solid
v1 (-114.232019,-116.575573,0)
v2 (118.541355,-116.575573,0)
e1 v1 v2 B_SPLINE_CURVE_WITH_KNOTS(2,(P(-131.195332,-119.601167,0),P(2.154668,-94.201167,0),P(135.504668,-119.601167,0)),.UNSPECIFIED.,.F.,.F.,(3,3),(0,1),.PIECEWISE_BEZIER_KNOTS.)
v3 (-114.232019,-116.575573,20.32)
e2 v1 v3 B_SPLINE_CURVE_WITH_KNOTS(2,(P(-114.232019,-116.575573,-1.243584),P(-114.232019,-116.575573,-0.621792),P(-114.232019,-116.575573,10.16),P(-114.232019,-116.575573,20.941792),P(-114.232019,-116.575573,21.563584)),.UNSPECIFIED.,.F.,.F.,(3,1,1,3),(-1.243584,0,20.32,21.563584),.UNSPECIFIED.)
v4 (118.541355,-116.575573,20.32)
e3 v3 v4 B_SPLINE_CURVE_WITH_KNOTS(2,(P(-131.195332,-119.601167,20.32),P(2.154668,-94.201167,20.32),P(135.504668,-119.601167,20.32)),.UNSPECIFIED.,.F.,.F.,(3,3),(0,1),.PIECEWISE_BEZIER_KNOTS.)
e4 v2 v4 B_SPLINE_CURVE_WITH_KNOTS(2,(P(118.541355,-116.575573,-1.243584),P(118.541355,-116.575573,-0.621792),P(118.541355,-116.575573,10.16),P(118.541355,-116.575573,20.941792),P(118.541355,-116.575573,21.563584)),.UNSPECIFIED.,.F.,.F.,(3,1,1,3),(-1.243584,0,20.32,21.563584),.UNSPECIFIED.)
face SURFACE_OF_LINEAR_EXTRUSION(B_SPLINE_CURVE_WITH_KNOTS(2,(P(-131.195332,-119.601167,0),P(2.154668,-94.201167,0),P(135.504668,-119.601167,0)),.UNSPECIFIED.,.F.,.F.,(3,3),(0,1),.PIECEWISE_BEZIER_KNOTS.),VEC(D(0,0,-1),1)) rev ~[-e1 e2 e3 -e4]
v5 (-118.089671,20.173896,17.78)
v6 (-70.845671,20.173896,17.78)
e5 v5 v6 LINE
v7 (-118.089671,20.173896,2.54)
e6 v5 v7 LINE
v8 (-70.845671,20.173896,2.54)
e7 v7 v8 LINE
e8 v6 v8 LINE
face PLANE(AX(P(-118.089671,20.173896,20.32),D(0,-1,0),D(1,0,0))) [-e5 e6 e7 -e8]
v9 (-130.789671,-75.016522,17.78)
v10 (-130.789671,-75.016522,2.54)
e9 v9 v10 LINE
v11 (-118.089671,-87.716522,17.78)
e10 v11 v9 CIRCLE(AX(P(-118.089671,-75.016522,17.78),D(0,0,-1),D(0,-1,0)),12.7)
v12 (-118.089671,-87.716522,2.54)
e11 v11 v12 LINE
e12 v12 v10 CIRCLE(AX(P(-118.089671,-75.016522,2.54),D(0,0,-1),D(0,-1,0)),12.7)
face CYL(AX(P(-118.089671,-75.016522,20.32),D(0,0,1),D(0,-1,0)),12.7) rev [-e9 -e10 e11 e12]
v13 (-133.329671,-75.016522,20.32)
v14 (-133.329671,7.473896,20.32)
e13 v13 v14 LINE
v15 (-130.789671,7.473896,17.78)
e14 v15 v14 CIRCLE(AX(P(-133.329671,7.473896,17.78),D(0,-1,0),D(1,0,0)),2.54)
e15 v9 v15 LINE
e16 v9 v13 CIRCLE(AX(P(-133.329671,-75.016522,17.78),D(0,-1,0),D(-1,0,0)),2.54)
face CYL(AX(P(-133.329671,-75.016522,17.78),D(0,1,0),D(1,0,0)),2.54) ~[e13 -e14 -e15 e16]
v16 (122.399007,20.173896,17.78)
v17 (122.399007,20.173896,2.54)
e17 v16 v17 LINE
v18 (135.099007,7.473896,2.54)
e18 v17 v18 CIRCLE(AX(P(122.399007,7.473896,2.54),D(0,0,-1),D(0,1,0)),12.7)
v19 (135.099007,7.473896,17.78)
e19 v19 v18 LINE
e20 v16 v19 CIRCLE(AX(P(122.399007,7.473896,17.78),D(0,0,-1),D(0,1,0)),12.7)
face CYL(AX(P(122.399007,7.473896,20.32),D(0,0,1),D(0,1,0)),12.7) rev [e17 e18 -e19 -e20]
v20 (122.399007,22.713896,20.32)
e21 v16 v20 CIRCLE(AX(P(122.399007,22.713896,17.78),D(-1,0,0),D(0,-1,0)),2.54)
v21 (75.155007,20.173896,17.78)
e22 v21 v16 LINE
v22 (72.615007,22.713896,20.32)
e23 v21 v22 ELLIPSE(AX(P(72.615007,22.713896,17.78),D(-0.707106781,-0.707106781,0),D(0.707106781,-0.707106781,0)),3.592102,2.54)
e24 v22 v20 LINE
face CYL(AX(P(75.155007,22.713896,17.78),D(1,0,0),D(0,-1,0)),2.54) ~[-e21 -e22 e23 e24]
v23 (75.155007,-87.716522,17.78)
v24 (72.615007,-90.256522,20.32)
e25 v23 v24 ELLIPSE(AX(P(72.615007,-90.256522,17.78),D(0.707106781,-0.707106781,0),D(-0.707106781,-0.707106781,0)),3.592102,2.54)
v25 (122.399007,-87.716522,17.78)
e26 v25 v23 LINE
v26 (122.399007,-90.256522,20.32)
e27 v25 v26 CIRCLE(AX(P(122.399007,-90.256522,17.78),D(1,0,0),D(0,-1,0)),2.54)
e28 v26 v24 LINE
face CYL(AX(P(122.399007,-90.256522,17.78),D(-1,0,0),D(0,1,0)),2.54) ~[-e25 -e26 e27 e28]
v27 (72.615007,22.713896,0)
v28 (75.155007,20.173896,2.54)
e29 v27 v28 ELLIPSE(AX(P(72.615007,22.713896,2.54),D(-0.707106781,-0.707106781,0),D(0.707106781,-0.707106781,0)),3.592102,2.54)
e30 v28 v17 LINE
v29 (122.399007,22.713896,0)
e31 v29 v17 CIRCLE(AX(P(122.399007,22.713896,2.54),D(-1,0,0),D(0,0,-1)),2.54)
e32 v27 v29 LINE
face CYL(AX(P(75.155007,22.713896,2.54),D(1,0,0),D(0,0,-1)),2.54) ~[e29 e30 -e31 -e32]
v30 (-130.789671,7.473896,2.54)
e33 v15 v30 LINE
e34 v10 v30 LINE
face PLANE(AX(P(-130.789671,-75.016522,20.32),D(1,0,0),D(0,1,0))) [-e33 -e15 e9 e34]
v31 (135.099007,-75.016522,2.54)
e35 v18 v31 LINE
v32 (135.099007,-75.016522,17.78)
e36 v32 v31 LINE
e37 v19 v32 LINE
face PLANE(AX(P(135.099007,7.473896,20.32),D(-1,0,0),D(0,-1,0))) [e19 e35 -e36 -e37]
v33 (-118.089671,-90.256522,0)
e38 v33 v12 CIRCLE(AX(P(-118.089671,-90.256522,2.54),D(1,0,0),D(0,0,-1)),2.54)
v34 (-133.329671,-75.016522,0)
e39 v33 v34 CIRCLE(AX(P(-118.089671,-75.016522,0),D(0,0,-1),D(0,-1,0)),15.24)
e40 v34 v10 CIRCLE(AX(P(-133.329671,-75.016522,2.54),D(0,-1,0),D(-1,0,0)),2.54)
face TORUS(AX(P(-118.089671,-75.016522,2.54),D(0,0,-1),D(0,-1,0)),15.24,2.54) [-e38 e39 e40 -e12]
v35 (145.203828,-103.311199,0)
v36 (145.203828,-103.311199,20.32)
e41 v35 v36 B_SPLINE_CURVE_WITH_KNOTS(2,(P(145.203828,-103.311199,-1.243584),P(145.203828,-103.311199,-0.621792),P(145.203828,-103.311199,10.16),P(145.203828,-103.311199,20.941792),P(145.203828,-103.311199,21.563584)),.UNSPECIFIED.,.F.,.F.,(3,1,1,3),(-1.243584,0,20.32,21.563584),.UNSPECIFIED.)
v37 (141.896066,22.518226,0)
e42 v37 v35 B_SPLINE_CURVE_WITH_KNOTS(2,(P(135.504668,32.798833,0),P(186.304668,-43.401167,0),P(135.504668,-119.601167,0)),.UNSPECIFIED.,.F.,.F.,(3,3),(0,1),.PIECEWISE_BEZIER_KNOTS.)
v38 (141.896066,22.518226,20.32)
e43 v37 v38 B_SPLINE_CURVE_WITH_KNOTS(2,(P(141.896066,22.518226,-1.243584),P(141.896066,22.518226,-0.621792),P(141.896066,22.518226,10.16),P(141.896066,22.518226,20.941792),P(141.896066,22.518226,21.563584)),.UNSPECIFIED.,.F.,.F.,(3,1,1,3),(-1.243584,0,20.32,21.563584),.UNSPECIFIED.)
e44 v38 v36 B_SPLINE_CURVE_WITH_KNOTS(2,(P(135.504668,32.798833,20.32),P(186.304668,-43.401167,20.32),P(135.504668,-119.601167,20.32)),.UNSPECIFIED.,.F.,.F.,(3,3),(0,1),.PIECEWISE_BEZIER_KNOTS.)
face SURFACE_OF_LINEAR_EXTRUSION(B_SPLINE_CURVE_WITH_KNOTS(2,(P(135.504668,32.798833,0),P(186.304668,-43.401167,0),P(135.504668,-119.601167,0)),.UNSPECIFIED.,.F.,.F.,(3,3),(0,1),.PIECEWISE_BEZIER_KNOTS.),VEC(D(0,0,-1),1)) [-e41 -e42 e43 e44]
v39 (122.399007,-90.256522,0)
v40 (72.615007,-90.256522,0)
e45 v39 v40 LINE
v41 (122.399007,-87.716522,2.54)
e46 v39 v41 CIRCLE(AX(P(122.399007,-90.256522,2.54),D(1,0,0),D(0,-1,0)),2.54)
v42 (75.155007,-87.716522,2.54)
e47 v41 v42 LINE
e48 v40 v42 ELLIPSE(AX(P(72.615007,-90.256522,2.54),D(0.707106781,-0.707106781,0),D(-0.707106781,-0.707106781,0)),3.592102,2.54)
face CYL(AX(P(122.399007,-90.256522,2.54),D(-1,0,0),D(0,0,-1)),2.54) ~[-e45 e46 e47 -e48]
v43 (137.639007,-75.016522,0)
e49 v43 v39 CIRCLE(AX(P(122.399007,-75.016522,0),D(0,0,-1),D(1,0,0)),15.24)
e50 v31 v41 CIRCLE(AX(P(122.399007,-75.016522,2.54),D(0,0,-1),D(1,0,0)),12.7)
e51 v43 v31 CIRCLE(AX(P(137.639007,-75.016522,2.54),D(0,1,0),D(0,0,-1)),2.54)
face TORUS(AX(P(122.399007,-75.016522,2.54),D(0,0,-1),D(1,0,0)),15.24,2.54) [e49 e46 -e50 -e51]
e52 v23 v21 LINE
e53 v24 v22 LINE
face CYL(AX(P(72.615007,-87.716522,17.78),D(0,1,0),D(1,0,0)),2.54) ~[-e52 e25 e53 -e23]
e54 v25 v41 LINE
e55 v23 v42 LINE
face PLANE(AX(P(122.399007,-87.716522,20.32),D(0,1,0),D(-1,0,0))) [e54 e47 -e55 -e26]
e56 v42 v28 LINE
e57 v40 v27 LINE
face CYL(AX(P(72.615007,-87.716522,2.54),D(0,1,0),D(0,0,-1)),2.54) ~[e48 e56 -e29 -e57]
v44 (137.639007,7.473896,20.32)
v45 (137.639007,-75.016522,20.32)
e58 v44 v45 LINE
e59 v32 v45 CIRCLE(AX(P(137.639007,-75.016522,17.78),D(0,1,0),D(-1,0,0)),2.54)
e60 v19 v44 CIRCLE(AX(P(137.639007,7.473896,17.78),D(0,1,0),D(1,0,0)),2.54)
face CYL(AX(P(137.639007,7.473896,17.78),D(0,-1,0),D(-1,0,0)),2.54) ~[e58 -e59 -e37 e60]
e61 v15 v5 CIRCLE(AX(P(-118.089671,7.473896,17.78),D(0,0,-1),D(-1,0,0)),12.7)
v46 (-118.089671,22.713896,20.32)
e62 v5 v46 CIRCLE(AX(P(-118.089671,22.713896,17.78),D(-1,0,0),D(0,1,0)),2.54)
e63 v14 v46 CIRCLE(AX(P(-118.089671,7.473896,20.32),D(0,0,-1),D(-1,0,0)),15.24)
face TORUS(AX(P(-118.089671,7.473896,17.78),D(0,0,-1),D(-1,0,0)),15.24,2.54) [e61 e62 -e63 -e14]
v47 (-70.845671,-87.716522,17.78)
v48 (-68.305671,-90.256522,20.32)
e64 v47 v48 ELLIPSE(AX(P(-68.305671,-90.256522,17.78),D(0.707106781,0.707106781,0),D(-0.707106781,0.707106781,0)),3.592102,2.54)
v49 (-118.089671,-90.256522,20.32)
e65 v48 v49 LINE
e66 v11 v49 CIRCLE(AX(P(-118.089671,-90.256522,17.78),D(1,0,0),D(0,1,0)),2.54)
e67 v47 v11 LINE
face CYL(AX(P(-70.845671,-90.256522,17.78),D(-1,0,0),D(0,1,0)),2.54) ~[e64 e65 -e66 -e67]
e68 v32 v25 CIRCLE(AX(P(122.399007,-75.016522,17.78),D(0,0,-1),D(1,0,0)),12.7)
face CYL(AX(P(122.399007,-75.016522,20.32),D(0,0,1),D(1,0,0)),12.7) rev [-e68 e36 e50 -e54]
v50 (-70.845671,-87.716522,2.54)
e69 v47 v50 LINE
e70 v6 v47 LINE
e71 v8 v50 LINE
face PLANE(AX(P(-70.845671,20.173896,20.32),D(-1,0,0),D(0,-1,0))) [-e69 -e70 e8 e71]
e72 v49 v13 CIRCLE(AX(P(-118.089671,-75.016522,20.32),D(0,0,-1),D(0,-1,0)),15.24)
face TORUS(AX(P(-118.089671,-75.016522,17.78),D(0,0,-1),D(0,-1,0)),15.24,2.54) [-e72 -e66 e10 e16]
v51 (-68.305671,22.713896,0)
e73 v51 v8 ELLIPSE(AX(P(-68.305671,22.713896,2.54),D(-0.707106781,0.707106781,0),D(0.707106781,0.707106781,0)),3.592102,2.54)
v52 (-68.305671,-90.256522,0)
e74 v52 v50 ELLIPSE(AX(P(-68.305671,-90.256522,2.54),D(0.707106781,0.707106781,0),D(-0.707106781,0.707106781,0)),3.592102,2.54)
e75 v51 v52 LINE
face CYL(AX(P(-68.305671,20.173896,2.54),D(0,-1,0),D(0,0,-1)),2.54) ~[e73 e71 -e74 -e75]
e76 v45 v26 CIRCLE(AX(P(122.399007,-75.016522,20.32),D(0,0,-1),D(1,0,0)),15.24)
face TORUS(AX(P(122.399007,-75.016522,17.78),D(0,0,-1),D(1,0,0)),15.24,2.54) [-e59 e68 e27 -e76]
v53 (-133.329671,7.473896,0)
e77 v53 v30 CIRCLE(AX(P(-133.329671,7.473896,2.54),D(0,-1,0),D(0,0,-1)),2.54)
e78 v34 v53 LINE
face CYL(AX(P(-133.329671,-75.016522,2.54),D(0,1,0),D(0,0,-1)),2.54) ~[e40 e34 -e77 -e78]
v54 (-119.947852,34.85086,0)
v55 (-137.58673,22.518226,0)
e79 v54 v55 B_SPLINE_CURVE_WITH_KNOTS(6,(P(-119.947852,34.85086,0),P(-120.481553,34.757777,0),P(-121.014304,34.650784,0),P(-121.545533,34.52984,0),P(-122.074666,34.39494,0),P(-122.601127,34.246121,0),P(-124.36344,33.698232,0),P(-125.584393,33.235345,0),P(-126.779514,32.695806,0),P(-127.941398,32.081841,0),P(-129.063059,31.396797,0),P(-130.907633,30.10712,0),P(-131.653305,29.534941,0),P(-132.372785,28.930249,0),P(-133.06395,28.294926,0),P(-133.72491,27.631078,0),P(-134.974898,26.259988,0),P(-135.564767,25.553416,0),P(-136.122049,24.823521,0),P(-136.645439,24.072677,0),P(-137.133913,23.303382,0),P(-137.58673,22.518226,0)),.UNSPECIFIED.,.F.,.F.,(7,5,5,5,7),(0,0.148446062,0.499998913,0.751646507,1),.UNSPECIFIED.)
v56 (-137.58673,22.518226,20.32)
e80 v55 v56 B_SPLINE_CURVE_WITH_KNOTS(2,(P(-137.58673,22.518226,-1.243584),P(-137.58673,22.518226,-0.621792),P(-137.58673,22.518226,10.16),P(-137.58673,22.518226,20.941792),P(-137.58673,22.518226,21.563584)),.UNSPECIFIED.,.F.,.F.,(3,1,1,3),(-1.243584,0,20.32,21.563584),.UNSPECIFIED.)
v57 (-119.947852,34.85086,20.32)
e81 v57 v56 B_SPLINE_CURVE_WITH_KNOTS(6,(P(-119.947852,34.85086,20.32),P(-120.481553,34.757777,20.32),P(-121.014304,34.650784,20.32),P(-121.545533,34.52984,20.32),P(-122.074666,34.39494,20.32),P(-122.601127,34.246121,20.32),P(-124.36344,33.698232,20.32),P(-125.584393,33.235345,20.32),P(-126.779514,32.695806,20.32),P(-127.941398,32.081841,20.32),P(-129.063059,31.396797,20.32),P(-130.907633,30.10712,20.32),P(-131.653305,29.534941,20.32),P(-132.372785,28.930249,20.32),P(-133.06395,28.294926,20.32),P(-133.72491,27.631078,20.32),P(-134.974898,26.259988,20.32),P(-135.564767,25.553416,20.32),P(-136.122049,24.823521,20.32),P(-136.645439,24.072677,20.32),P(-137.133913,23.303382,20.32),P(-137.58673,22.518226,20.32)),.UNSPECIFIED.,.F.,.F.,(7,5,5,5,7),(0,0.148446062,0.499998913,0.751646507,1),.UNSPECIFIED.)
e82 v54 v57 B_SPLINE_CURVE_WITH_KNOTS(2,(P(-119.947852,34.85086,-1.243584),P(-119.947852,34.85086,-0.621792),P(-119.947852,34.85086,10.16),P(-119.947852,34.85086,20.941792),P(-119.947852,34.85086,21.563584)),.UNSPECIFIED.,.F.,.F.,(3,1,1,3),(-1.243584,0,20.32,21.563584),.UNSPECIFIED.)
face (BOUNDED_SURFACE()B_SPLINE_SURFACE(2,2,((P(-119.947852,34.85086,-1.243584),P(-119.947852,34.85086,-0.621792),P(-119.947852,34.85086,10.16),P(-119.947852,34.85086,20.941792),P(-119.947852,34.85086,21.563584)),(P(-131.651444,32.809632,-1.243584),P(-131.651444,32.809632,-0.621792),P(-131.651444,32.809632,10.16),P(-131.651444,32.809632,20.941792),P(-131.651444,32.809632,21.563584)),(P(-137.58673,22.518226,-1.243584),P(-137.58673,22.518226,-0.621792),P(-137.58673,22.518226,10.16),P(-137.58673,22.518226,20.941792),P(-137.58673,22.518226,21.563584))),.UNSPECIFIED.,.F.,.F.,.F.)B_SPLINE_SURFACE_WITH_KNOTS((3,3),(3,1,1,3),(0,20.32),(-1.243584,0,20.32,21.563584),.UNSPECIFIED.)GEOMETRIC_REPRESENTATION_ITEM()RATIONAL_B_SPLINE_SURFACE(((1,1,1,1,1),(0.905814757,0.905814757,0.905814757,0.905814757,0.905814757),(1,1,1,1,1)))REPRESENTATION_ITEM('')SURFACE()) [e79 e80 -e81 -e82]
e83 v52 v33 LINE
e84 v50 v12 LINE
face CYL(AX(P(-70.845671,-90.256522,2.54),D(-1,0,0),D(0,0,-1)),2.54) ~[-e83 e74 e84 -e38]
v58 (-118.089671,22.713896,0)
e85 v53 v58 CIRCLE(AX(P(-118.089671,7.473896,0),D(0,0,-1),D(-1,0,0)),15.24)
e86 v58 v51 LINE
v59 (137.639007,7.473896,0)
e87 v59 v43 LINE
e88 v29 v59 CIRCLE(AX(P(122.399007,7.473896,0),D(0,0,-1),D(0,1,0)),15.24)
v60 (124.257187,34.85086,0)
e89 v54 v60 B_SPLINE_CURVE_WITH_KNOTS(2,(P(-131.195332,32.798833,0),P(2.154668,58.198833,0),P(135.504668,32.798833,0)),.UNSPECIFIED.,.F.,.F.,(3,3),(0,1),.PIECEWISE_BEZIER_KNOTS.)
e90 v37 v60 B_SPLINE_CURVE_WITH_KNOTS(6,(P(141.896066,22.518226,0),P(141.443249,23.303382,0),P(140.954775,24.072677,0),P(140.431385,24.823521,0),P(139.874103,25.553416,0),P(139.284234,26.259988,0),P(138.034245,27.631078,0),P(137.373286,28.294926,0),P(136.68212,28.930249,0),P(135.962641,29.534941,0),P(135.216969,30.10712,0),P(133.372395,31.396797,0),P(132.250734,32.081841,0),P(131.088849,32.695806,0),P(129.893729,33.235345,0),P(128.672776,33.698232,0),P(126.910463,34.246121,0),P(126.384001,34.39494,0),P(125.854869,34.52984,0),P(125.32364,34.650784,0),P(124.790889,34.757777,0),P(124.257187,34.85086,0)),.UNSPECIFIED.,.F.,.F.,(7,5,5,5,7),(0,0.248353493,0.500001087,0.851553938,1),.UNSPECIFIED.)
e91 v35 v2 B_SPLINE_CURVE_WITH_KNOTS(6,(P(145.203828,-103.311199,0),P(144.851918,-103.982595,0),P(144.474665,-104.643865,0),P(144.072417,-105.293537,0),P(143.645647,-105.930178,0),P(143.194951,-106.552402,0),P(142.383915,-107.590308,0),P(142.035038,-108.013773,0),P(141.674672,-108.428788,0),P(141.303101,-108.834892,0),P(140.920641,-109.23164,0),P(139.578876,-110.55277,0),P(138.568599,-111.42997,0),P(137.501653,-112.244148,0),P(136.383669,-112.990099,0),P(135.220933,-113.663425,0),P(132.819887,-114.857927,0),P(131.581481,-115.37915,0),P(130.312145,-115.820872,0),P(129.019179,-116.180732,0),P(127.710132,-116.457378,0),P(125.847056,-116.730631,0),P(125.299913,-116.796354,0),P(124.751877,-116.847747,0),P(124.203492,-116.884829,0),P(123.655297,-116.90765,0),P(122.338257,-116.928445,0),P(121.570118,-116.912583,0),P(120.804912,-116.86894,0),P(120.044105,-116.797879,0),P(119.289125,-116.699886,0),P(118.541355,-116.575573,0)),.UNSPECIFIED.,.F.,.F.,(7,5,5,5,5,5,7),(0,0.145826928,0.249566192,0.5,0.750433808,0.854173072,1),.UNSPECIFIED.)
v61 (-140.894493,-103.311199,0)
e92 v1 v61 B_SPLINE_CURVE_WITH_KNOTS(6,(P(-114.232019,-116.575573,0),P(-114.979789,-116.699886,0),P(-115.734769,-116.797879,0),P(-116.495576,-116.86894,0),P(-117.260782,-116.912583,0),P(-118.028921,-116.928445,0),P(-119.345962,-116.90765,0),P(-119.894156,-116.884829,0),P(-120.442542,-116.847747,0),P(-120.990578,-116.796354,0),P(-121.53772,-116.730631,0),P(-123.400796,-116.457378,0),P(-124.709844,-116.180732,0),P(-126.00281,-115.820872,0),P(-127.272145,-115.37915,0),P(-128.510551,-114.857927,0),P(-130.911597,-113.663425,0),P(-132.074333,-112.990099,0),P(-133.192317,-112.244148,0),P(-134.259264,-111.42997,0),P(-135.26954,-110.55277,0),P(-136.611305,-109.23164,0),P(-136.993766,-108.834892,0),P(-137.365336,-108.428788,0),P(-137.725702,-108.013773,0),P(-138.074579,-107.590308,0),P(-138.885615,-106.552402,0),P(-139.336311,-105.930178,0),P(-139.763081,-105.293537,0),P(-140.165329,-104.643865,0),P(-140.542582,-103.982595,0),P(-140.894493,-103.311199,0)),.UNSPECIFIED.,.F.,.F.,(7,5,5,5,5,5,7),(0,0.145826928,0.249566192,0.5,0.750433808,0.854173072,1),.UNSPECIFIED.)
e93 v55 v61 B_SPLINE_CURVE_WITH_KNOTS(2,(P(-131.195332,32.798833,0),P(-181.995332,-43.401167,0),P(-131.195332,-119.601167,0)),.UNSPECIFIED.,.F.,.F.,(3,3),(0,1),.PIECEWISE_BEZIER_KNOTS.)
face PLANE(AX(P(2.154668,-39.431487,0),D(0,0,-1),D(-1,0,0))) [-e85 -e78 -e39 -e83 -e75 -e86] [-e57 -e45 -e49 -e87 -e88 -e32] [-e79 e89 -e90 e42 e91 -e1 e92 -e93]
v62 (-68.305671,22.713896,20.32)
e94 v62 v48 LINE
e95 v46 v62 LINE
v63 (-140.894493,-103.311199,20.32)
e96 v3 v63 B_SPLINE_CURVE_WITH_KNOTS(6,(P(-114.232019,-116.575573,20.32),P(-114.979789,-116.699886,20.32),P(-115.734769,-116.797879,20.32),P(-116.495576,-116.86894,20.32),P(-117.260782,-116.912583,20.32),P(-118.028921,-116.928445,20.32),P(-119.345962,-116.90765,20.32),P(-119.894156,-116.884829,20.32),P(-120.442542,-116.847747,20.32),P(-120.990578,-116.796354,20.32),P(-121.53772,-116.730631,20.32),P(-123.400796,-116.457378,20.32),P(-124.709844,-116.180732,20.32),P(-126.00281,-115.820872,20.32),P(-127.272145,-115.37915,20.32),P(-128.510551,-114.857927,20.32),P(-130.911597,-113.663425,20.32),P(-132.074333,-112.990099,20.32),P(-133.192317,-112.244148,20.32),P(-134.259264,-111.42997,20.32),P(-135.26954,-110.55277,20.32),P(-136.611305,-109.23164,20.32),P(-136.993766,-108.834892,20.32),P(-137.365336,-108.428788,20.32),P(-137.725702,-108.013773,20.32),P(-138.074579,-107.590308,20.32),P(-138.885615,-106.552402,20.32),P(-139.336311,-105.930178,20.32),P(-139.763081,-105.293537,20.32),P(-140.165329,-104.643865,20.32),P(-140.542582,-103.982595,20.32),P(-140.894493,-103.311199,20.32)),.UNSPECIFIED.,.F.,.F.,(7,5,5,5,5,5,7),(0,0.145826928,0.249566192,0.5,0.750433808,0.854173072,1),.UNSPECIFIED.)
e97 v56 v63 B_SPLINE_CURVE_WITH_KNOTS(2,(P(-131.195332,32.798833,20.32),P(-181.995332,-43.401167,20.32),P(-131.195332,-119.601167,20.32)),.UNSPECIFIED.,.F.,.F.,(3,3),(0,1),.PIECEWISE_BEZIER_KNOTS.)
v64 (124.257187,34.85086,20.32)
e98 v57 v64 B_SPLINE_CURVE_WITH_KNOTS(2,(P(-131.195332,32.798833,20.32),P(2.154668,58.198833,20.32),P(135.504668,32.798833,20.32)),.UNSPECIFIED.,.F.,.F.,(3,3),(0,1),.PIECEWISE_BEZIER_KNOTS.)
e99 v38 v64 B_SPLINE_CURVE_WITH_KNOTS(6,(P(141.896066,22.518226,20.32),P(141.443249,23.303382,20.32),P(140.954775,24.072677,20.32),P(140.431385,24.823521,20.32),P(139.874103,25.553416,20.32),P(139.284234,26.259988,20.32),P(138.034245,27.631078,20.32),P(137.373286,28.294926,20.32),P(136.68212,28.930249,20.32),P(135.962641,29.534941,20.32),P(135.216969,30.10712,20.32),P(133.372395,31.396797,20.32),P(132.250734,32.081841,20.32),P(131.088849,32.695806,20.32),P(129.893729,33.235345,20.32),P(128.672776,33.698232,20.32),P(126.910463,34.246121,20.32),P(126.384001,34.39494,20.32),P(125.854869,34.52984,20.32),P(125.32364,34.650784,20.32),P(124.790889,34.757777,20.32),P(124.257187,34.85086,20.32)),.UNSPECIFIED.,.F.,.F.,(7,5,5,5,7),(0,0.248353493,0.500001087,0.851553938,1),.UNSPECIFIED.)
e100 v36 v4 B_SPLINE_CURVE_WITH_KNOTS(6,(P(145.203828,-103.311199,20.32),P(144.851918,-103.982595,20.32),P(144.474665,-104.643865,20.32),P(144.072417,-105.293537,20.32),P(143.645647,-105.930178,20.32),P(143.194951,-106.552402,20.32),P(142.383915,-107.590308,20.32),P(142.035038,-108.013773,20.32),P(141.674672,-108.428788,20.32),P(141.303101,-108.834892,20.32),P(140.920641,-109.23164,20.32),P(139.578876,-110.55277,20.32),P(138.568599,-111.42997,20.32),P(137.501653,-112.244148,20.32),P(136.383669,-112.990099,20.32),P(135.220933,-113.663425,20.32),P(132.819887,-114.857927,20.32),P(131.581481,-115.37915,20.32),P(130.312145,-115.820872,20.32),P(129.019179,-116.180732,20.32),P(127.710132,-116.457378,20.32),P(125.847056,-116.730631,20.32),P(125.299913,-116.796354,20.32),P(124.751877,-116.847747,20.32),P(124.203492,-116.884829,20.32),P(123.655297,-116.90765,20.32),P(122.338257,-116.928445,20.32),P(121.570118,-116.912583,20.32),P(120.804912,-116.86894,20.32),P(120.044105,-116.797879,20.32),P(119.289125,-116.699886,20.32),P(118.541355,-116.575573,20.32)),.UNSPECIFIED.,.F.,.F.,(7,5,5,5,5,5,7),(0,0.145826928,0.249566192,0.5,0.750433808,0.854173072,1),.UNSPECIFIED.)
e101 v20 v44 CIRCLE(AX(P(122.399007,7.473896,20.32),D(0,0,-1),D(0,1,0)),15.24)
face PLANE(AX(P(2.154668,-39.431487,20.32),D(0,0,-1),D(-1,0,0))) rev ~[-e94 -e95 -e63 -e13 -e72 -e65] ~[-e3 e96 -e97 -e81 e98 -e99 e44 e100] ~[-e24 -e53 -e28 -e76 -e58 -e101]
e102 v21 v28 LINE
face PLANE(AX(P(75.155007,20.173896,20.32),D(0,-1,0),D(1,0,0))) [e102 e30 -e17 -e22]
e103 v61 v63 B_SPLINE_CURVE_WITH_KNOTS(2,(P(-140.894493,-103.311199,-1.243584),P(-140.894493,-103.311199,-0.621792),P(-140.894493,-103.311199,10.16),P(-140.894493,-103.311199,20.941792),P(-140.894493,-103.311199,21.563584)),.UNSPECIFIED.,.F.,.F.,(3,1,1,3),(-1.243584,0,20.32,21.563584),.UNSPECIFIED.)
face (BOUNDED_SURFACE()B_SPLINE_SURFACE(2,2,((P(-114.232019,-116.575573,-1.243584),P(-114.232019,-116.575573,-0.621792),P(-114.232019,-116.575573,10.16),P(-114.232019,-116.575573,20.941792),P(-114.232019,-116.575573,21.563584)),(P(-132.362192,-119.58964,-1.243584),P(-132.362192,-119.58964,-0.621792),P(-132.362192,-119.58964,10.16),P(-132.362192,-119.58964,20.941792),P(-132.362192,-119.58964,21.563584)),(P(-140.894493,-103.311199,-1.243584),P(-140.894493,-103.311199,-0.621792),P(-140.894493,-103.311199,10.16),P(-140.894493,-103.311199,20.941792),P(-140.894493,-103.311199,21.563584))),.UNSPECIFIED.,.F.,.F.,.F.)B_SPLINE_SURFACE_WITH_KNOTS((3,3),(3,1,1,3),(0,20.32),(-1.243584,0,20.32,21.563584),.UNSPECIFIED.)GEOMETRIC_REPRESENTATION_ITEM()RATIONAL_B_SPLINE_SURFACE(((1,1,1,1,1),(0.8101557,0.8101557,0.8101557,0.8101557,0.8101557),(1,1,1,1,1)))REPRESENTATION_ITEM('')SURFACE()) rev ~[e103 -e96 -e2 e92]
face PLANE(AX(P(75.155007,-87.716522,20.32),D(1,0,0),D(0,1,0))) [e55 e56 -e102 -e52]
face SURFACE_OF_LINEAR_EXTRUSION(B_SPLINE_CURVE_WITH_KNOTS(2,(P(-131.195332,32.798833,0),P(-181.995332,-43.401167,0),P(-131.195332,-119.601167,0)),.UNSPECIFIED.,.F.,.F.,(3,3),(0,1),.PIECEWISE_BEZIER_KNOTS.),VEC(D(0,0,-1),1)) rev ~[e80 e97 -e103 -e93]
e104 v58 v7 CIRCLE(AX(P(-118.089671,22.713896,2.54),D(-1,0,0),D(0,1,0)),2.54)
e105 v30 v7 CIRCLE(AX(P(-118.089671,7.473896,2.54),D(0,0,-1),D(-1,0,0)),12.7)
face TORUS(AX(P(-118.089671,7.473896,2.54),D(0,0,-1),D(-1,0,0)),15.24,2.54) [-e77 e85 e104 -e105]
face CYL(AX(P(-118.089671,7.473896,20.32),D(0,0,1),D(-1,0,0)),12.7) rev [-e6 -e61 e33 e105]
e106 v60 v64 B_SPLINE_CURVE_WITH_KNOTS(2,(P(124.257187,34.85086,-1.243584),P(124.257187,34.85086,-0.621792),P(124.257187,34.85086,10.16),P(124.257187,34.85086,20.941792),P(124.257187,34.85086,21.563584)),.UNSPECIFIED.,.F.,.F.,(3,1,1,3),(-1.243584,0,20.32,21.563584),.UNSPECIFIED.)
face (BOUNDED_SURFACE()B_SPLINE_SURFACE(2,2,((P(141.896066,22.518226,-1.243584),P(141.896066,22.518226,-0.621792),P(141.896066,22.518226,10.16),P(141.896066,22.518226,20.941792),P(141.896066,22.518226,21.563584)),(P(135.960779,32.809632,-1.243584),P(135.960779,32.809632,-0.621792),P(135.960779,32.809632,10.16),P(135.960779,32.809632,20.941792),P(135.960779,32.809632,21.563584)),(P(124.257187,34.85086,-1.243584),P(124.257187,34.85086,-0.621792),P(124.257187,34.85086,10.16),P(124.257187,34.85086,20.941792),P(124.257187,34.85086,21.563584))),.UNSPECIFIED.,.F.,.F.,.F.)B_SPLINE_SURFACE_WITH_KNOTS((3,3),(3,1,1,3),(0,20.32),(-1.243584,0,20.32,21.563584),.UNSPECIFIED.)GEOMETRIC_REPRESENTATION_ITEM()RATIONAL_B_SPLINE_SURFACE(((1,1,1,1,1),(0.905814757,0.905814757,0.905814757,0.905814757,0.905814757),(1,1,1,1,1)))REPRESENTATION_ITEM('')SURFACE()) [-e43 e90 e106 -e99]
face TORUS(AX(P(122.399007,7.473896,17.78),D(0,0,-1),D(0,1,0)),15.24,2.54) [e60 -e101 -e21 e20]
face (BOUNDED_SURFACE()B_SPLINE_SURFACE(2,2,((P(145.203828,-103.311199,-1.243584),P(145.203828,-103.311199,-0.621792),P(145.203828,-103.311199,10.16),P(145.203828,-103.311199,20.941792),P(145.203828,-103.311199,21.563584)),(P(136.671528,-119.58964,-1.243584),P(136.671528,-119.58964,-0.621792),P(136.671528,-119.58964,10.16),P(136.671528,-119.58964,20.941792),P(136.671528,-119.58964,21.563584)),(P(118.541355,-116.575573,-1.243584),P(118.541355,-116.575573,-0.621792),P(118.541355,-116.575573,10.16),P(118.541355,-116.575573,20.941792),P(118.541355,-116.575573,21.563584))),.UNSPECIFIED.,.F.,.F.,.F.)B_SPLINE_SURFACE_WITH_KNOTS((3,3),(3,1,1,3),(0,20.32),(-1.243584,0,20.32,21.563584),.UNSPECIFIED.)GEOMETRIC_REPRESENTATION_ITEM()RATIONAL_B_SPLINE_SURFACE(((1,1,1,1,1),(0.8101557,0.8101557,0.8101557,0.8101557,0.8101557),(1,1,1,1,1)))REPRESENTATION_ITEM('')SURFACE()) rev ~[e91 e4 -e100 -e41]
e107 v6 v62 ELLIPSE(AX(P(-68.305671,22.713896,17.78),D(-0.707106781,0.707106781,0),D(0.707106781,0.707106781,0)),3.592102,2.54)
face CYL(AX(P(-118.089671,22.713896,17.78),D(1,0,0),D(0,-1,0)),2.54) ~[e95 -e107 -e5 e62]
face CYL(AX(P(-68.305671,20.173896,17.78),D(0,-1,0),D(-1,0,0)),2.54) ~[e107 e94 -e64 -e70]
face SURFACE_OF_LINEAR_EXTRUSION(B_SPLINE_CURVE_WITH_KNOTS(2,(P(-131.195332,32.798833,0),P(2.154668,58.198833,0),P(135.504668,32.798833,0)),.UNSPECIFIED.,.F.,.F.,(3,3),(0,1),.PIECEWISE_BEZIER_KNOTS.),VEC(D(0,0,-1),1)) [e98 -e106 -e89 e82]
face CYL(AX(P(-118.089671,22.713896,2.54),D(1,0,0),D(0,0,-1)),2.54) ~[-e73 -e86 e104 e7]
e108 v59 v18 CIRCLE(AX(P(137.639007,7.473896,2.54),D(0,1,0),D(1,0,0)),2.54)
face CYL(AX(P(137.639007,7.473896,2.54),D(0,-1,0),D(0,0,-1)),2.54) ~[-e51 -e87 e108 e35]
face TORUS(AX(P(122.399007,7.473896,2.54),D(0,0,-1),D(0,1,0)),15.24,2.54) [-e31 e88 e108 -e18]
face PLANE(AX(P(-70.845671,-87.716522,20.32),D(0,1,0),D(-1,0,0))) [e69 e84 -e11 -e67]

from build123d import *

# Parameters (mm, degrees)
BOSS_EXTRUDE2_DEPTH = 20.32
FILLET1_R           = 25.4
FILLET2_R           = 25.4
FILLET3_R           = 25.4
FILLET4_R           = 25.4
CUT_EXTRUDE1_DEPTH  = 20.32
FILLET5_R           = 2.54


with BuildPart() as part:
    # Sketch1 → Boss-Extrude2 (new body)
    with BuildSketch(Plane.XY):
        with BuildLine():
            add(Edge.make_bspline(
                [(-131.195332136, 32.798833034), (2.154667864, 58.198833034), (135.504667864, 32.798833034)],
                knots=[0, 0, 0, 1, 1, 1], degree=2))
            add(Edge.make_bspline(
                [(135.504667864, 32.798833034), (186.304667864, -43.401166966), (135.504667864, -119.601166966)],
                knots=[0, 0, 0, 1, 1, 1], degree=2))
            add(Edge.make_bspline(
                [(-131.195332136, -119.601166966), (2.154667864, -94.201166966), (135.504667864, -119.601166966)],
                knots=[0, 0, 0, 1, 1, 1], degree=2))
            add(Edge.make_bspline(
                [(-131.195332136, 32.798833034), (-181.995332136, -43.401166966), (-131.195332136, -119.601166966)],
                knots=[0, 0, 0, 1, 1, 1], degree=2))
        make_face()
    extrude(amount=BOSS_EXTRUDE2_DEPTH)

    # Fillet1
    fillet1_edges = [part.edges().sort_by_distance(p)[0] for p in [
        (135.504667864, -119.601166966, 10.16),
    ]]
    fillet(fillet1_edges, radius=FILLET1_R)

    # Fillet2
    fillet2_edges = [part.edges().sort_by_distance(p)[0] for p in [
        (-131.195332136, -119.601166966, 10.16),
    ]]
    fillet(fillet2_edges, radius=FILLET2_R)

    # Fillet3
    fillet3_edges = [part.edges().sort_by_distance(p)[0] for p in [
        (135.504667864, 32.798833034, 10.16),
    ]]
    fillet(fillet3_edges, radius=FILLET3_R)

    # Fillet4
    fillet4_edges = [part.edges().sort_by_distance(p)[0] for p in [
        (-131.195332136, 32.798833034, 10.16),
    ]]
    fillet(fillet4_edges, radius=FILLET4_R)

    # Sketch2 → Cut-Extrude1 (cut)
    with BuildSketch(Plane.XY.offset(20.32)):
        with BuildLine():
            Line((-118.089671205, 20.173896233), (-70.845671205, 20.173896233))
            Line((-70.845671205, 20.173896233), (-70.845671205, -87.716522063))
            Line((-70.845671205, -87.716522063), (-118.089671205, -87.716522063))
            ThreePointArc((-118.089671205, -87.716522063), (-127.069927326, -83.996778184), (-130.789671205, -75.016522063))
            Line((-130.789671205, -75.016522063), (-130.789671205, 7.473896233))
            ThreePointArc((-130.789671205, 7.473896233), (-127.069927326, 16.454152354), (-118.089671205, 20.173896233))
        make_face()
        with BuildLine():
            Line((135.099006932, 7.473896233), (135.099006932, -75.016522063))
            ThreePointArc((135.099006932, -75.016522063), (131.379263053, -83.996778184), (122.399006932, -87.716522063))
            Line((122.399006932, -87.716522063), (75.155006932, -87.716522063))
            Line((75.155006932, -87.716522063), (75.155006932, 20.173896233))
            Line((75.155006932, 20.173896233), (122.399006932, 20.173896233))
            ThreePointArc((122.399006932, 20.173896233), (131.379263053, 16.454152354), (135.099006932, 7.473896233))
        make_face()
    extrude(amount=-CUT_EXTRUDE1_DEPTH, mode=Mode.SUBTRACT)

    # Fillet5
    fillet5_edges = [part.edges().sort_by_distance(p)[0] for p in [
        (-127.069927326, 16.454152354, 0),
        (-94.467671205, 20.173896233, 20.32),
        (-70.845671205, -33.771312915, 20.32),
        (-94.467671205, -87.716522063, 0),
        (-127.069927326, -83.996778184, 0),
        (-130.789671205, -33.771312915, 0),
        (-94.467671205, 20.173896233, 0),
        (-70.845671205, -33.771312915, 0),
        (-127.069927326, 16.454152354, 20.32),
        (-130.789671205, -33.771312915, 20.32),
        (-127.069927326, -83.996778184, 20.32),
        (-94.467671205, -87.716522063, 20.32),
        (98.777006932, 20.173896233, 20.32),
        (131.379263053, 16.454152354, 20.32),
        (135.099006932, -33.771312915, 20.32),
        (131.379263053, -83.996778184, 0),
        (98.777006932, -87.716522063, 0),
        (75.155006932, -33.771312915, 0),
        (98.777006932, 20.173896233, 0),
        (131.379263053, 16.454152354, 0),
        (135.099006932, -33.771312915, 0),
        (75.155006932, -33.771312915, 20.32),
        (98.777006932, -87.716522063, 20.32),
        (131.379263053, -83.996778184, 20.32),
    ]]
    fillet(fillet5_edges, radius=FILLET5_R)


solid = part.part
